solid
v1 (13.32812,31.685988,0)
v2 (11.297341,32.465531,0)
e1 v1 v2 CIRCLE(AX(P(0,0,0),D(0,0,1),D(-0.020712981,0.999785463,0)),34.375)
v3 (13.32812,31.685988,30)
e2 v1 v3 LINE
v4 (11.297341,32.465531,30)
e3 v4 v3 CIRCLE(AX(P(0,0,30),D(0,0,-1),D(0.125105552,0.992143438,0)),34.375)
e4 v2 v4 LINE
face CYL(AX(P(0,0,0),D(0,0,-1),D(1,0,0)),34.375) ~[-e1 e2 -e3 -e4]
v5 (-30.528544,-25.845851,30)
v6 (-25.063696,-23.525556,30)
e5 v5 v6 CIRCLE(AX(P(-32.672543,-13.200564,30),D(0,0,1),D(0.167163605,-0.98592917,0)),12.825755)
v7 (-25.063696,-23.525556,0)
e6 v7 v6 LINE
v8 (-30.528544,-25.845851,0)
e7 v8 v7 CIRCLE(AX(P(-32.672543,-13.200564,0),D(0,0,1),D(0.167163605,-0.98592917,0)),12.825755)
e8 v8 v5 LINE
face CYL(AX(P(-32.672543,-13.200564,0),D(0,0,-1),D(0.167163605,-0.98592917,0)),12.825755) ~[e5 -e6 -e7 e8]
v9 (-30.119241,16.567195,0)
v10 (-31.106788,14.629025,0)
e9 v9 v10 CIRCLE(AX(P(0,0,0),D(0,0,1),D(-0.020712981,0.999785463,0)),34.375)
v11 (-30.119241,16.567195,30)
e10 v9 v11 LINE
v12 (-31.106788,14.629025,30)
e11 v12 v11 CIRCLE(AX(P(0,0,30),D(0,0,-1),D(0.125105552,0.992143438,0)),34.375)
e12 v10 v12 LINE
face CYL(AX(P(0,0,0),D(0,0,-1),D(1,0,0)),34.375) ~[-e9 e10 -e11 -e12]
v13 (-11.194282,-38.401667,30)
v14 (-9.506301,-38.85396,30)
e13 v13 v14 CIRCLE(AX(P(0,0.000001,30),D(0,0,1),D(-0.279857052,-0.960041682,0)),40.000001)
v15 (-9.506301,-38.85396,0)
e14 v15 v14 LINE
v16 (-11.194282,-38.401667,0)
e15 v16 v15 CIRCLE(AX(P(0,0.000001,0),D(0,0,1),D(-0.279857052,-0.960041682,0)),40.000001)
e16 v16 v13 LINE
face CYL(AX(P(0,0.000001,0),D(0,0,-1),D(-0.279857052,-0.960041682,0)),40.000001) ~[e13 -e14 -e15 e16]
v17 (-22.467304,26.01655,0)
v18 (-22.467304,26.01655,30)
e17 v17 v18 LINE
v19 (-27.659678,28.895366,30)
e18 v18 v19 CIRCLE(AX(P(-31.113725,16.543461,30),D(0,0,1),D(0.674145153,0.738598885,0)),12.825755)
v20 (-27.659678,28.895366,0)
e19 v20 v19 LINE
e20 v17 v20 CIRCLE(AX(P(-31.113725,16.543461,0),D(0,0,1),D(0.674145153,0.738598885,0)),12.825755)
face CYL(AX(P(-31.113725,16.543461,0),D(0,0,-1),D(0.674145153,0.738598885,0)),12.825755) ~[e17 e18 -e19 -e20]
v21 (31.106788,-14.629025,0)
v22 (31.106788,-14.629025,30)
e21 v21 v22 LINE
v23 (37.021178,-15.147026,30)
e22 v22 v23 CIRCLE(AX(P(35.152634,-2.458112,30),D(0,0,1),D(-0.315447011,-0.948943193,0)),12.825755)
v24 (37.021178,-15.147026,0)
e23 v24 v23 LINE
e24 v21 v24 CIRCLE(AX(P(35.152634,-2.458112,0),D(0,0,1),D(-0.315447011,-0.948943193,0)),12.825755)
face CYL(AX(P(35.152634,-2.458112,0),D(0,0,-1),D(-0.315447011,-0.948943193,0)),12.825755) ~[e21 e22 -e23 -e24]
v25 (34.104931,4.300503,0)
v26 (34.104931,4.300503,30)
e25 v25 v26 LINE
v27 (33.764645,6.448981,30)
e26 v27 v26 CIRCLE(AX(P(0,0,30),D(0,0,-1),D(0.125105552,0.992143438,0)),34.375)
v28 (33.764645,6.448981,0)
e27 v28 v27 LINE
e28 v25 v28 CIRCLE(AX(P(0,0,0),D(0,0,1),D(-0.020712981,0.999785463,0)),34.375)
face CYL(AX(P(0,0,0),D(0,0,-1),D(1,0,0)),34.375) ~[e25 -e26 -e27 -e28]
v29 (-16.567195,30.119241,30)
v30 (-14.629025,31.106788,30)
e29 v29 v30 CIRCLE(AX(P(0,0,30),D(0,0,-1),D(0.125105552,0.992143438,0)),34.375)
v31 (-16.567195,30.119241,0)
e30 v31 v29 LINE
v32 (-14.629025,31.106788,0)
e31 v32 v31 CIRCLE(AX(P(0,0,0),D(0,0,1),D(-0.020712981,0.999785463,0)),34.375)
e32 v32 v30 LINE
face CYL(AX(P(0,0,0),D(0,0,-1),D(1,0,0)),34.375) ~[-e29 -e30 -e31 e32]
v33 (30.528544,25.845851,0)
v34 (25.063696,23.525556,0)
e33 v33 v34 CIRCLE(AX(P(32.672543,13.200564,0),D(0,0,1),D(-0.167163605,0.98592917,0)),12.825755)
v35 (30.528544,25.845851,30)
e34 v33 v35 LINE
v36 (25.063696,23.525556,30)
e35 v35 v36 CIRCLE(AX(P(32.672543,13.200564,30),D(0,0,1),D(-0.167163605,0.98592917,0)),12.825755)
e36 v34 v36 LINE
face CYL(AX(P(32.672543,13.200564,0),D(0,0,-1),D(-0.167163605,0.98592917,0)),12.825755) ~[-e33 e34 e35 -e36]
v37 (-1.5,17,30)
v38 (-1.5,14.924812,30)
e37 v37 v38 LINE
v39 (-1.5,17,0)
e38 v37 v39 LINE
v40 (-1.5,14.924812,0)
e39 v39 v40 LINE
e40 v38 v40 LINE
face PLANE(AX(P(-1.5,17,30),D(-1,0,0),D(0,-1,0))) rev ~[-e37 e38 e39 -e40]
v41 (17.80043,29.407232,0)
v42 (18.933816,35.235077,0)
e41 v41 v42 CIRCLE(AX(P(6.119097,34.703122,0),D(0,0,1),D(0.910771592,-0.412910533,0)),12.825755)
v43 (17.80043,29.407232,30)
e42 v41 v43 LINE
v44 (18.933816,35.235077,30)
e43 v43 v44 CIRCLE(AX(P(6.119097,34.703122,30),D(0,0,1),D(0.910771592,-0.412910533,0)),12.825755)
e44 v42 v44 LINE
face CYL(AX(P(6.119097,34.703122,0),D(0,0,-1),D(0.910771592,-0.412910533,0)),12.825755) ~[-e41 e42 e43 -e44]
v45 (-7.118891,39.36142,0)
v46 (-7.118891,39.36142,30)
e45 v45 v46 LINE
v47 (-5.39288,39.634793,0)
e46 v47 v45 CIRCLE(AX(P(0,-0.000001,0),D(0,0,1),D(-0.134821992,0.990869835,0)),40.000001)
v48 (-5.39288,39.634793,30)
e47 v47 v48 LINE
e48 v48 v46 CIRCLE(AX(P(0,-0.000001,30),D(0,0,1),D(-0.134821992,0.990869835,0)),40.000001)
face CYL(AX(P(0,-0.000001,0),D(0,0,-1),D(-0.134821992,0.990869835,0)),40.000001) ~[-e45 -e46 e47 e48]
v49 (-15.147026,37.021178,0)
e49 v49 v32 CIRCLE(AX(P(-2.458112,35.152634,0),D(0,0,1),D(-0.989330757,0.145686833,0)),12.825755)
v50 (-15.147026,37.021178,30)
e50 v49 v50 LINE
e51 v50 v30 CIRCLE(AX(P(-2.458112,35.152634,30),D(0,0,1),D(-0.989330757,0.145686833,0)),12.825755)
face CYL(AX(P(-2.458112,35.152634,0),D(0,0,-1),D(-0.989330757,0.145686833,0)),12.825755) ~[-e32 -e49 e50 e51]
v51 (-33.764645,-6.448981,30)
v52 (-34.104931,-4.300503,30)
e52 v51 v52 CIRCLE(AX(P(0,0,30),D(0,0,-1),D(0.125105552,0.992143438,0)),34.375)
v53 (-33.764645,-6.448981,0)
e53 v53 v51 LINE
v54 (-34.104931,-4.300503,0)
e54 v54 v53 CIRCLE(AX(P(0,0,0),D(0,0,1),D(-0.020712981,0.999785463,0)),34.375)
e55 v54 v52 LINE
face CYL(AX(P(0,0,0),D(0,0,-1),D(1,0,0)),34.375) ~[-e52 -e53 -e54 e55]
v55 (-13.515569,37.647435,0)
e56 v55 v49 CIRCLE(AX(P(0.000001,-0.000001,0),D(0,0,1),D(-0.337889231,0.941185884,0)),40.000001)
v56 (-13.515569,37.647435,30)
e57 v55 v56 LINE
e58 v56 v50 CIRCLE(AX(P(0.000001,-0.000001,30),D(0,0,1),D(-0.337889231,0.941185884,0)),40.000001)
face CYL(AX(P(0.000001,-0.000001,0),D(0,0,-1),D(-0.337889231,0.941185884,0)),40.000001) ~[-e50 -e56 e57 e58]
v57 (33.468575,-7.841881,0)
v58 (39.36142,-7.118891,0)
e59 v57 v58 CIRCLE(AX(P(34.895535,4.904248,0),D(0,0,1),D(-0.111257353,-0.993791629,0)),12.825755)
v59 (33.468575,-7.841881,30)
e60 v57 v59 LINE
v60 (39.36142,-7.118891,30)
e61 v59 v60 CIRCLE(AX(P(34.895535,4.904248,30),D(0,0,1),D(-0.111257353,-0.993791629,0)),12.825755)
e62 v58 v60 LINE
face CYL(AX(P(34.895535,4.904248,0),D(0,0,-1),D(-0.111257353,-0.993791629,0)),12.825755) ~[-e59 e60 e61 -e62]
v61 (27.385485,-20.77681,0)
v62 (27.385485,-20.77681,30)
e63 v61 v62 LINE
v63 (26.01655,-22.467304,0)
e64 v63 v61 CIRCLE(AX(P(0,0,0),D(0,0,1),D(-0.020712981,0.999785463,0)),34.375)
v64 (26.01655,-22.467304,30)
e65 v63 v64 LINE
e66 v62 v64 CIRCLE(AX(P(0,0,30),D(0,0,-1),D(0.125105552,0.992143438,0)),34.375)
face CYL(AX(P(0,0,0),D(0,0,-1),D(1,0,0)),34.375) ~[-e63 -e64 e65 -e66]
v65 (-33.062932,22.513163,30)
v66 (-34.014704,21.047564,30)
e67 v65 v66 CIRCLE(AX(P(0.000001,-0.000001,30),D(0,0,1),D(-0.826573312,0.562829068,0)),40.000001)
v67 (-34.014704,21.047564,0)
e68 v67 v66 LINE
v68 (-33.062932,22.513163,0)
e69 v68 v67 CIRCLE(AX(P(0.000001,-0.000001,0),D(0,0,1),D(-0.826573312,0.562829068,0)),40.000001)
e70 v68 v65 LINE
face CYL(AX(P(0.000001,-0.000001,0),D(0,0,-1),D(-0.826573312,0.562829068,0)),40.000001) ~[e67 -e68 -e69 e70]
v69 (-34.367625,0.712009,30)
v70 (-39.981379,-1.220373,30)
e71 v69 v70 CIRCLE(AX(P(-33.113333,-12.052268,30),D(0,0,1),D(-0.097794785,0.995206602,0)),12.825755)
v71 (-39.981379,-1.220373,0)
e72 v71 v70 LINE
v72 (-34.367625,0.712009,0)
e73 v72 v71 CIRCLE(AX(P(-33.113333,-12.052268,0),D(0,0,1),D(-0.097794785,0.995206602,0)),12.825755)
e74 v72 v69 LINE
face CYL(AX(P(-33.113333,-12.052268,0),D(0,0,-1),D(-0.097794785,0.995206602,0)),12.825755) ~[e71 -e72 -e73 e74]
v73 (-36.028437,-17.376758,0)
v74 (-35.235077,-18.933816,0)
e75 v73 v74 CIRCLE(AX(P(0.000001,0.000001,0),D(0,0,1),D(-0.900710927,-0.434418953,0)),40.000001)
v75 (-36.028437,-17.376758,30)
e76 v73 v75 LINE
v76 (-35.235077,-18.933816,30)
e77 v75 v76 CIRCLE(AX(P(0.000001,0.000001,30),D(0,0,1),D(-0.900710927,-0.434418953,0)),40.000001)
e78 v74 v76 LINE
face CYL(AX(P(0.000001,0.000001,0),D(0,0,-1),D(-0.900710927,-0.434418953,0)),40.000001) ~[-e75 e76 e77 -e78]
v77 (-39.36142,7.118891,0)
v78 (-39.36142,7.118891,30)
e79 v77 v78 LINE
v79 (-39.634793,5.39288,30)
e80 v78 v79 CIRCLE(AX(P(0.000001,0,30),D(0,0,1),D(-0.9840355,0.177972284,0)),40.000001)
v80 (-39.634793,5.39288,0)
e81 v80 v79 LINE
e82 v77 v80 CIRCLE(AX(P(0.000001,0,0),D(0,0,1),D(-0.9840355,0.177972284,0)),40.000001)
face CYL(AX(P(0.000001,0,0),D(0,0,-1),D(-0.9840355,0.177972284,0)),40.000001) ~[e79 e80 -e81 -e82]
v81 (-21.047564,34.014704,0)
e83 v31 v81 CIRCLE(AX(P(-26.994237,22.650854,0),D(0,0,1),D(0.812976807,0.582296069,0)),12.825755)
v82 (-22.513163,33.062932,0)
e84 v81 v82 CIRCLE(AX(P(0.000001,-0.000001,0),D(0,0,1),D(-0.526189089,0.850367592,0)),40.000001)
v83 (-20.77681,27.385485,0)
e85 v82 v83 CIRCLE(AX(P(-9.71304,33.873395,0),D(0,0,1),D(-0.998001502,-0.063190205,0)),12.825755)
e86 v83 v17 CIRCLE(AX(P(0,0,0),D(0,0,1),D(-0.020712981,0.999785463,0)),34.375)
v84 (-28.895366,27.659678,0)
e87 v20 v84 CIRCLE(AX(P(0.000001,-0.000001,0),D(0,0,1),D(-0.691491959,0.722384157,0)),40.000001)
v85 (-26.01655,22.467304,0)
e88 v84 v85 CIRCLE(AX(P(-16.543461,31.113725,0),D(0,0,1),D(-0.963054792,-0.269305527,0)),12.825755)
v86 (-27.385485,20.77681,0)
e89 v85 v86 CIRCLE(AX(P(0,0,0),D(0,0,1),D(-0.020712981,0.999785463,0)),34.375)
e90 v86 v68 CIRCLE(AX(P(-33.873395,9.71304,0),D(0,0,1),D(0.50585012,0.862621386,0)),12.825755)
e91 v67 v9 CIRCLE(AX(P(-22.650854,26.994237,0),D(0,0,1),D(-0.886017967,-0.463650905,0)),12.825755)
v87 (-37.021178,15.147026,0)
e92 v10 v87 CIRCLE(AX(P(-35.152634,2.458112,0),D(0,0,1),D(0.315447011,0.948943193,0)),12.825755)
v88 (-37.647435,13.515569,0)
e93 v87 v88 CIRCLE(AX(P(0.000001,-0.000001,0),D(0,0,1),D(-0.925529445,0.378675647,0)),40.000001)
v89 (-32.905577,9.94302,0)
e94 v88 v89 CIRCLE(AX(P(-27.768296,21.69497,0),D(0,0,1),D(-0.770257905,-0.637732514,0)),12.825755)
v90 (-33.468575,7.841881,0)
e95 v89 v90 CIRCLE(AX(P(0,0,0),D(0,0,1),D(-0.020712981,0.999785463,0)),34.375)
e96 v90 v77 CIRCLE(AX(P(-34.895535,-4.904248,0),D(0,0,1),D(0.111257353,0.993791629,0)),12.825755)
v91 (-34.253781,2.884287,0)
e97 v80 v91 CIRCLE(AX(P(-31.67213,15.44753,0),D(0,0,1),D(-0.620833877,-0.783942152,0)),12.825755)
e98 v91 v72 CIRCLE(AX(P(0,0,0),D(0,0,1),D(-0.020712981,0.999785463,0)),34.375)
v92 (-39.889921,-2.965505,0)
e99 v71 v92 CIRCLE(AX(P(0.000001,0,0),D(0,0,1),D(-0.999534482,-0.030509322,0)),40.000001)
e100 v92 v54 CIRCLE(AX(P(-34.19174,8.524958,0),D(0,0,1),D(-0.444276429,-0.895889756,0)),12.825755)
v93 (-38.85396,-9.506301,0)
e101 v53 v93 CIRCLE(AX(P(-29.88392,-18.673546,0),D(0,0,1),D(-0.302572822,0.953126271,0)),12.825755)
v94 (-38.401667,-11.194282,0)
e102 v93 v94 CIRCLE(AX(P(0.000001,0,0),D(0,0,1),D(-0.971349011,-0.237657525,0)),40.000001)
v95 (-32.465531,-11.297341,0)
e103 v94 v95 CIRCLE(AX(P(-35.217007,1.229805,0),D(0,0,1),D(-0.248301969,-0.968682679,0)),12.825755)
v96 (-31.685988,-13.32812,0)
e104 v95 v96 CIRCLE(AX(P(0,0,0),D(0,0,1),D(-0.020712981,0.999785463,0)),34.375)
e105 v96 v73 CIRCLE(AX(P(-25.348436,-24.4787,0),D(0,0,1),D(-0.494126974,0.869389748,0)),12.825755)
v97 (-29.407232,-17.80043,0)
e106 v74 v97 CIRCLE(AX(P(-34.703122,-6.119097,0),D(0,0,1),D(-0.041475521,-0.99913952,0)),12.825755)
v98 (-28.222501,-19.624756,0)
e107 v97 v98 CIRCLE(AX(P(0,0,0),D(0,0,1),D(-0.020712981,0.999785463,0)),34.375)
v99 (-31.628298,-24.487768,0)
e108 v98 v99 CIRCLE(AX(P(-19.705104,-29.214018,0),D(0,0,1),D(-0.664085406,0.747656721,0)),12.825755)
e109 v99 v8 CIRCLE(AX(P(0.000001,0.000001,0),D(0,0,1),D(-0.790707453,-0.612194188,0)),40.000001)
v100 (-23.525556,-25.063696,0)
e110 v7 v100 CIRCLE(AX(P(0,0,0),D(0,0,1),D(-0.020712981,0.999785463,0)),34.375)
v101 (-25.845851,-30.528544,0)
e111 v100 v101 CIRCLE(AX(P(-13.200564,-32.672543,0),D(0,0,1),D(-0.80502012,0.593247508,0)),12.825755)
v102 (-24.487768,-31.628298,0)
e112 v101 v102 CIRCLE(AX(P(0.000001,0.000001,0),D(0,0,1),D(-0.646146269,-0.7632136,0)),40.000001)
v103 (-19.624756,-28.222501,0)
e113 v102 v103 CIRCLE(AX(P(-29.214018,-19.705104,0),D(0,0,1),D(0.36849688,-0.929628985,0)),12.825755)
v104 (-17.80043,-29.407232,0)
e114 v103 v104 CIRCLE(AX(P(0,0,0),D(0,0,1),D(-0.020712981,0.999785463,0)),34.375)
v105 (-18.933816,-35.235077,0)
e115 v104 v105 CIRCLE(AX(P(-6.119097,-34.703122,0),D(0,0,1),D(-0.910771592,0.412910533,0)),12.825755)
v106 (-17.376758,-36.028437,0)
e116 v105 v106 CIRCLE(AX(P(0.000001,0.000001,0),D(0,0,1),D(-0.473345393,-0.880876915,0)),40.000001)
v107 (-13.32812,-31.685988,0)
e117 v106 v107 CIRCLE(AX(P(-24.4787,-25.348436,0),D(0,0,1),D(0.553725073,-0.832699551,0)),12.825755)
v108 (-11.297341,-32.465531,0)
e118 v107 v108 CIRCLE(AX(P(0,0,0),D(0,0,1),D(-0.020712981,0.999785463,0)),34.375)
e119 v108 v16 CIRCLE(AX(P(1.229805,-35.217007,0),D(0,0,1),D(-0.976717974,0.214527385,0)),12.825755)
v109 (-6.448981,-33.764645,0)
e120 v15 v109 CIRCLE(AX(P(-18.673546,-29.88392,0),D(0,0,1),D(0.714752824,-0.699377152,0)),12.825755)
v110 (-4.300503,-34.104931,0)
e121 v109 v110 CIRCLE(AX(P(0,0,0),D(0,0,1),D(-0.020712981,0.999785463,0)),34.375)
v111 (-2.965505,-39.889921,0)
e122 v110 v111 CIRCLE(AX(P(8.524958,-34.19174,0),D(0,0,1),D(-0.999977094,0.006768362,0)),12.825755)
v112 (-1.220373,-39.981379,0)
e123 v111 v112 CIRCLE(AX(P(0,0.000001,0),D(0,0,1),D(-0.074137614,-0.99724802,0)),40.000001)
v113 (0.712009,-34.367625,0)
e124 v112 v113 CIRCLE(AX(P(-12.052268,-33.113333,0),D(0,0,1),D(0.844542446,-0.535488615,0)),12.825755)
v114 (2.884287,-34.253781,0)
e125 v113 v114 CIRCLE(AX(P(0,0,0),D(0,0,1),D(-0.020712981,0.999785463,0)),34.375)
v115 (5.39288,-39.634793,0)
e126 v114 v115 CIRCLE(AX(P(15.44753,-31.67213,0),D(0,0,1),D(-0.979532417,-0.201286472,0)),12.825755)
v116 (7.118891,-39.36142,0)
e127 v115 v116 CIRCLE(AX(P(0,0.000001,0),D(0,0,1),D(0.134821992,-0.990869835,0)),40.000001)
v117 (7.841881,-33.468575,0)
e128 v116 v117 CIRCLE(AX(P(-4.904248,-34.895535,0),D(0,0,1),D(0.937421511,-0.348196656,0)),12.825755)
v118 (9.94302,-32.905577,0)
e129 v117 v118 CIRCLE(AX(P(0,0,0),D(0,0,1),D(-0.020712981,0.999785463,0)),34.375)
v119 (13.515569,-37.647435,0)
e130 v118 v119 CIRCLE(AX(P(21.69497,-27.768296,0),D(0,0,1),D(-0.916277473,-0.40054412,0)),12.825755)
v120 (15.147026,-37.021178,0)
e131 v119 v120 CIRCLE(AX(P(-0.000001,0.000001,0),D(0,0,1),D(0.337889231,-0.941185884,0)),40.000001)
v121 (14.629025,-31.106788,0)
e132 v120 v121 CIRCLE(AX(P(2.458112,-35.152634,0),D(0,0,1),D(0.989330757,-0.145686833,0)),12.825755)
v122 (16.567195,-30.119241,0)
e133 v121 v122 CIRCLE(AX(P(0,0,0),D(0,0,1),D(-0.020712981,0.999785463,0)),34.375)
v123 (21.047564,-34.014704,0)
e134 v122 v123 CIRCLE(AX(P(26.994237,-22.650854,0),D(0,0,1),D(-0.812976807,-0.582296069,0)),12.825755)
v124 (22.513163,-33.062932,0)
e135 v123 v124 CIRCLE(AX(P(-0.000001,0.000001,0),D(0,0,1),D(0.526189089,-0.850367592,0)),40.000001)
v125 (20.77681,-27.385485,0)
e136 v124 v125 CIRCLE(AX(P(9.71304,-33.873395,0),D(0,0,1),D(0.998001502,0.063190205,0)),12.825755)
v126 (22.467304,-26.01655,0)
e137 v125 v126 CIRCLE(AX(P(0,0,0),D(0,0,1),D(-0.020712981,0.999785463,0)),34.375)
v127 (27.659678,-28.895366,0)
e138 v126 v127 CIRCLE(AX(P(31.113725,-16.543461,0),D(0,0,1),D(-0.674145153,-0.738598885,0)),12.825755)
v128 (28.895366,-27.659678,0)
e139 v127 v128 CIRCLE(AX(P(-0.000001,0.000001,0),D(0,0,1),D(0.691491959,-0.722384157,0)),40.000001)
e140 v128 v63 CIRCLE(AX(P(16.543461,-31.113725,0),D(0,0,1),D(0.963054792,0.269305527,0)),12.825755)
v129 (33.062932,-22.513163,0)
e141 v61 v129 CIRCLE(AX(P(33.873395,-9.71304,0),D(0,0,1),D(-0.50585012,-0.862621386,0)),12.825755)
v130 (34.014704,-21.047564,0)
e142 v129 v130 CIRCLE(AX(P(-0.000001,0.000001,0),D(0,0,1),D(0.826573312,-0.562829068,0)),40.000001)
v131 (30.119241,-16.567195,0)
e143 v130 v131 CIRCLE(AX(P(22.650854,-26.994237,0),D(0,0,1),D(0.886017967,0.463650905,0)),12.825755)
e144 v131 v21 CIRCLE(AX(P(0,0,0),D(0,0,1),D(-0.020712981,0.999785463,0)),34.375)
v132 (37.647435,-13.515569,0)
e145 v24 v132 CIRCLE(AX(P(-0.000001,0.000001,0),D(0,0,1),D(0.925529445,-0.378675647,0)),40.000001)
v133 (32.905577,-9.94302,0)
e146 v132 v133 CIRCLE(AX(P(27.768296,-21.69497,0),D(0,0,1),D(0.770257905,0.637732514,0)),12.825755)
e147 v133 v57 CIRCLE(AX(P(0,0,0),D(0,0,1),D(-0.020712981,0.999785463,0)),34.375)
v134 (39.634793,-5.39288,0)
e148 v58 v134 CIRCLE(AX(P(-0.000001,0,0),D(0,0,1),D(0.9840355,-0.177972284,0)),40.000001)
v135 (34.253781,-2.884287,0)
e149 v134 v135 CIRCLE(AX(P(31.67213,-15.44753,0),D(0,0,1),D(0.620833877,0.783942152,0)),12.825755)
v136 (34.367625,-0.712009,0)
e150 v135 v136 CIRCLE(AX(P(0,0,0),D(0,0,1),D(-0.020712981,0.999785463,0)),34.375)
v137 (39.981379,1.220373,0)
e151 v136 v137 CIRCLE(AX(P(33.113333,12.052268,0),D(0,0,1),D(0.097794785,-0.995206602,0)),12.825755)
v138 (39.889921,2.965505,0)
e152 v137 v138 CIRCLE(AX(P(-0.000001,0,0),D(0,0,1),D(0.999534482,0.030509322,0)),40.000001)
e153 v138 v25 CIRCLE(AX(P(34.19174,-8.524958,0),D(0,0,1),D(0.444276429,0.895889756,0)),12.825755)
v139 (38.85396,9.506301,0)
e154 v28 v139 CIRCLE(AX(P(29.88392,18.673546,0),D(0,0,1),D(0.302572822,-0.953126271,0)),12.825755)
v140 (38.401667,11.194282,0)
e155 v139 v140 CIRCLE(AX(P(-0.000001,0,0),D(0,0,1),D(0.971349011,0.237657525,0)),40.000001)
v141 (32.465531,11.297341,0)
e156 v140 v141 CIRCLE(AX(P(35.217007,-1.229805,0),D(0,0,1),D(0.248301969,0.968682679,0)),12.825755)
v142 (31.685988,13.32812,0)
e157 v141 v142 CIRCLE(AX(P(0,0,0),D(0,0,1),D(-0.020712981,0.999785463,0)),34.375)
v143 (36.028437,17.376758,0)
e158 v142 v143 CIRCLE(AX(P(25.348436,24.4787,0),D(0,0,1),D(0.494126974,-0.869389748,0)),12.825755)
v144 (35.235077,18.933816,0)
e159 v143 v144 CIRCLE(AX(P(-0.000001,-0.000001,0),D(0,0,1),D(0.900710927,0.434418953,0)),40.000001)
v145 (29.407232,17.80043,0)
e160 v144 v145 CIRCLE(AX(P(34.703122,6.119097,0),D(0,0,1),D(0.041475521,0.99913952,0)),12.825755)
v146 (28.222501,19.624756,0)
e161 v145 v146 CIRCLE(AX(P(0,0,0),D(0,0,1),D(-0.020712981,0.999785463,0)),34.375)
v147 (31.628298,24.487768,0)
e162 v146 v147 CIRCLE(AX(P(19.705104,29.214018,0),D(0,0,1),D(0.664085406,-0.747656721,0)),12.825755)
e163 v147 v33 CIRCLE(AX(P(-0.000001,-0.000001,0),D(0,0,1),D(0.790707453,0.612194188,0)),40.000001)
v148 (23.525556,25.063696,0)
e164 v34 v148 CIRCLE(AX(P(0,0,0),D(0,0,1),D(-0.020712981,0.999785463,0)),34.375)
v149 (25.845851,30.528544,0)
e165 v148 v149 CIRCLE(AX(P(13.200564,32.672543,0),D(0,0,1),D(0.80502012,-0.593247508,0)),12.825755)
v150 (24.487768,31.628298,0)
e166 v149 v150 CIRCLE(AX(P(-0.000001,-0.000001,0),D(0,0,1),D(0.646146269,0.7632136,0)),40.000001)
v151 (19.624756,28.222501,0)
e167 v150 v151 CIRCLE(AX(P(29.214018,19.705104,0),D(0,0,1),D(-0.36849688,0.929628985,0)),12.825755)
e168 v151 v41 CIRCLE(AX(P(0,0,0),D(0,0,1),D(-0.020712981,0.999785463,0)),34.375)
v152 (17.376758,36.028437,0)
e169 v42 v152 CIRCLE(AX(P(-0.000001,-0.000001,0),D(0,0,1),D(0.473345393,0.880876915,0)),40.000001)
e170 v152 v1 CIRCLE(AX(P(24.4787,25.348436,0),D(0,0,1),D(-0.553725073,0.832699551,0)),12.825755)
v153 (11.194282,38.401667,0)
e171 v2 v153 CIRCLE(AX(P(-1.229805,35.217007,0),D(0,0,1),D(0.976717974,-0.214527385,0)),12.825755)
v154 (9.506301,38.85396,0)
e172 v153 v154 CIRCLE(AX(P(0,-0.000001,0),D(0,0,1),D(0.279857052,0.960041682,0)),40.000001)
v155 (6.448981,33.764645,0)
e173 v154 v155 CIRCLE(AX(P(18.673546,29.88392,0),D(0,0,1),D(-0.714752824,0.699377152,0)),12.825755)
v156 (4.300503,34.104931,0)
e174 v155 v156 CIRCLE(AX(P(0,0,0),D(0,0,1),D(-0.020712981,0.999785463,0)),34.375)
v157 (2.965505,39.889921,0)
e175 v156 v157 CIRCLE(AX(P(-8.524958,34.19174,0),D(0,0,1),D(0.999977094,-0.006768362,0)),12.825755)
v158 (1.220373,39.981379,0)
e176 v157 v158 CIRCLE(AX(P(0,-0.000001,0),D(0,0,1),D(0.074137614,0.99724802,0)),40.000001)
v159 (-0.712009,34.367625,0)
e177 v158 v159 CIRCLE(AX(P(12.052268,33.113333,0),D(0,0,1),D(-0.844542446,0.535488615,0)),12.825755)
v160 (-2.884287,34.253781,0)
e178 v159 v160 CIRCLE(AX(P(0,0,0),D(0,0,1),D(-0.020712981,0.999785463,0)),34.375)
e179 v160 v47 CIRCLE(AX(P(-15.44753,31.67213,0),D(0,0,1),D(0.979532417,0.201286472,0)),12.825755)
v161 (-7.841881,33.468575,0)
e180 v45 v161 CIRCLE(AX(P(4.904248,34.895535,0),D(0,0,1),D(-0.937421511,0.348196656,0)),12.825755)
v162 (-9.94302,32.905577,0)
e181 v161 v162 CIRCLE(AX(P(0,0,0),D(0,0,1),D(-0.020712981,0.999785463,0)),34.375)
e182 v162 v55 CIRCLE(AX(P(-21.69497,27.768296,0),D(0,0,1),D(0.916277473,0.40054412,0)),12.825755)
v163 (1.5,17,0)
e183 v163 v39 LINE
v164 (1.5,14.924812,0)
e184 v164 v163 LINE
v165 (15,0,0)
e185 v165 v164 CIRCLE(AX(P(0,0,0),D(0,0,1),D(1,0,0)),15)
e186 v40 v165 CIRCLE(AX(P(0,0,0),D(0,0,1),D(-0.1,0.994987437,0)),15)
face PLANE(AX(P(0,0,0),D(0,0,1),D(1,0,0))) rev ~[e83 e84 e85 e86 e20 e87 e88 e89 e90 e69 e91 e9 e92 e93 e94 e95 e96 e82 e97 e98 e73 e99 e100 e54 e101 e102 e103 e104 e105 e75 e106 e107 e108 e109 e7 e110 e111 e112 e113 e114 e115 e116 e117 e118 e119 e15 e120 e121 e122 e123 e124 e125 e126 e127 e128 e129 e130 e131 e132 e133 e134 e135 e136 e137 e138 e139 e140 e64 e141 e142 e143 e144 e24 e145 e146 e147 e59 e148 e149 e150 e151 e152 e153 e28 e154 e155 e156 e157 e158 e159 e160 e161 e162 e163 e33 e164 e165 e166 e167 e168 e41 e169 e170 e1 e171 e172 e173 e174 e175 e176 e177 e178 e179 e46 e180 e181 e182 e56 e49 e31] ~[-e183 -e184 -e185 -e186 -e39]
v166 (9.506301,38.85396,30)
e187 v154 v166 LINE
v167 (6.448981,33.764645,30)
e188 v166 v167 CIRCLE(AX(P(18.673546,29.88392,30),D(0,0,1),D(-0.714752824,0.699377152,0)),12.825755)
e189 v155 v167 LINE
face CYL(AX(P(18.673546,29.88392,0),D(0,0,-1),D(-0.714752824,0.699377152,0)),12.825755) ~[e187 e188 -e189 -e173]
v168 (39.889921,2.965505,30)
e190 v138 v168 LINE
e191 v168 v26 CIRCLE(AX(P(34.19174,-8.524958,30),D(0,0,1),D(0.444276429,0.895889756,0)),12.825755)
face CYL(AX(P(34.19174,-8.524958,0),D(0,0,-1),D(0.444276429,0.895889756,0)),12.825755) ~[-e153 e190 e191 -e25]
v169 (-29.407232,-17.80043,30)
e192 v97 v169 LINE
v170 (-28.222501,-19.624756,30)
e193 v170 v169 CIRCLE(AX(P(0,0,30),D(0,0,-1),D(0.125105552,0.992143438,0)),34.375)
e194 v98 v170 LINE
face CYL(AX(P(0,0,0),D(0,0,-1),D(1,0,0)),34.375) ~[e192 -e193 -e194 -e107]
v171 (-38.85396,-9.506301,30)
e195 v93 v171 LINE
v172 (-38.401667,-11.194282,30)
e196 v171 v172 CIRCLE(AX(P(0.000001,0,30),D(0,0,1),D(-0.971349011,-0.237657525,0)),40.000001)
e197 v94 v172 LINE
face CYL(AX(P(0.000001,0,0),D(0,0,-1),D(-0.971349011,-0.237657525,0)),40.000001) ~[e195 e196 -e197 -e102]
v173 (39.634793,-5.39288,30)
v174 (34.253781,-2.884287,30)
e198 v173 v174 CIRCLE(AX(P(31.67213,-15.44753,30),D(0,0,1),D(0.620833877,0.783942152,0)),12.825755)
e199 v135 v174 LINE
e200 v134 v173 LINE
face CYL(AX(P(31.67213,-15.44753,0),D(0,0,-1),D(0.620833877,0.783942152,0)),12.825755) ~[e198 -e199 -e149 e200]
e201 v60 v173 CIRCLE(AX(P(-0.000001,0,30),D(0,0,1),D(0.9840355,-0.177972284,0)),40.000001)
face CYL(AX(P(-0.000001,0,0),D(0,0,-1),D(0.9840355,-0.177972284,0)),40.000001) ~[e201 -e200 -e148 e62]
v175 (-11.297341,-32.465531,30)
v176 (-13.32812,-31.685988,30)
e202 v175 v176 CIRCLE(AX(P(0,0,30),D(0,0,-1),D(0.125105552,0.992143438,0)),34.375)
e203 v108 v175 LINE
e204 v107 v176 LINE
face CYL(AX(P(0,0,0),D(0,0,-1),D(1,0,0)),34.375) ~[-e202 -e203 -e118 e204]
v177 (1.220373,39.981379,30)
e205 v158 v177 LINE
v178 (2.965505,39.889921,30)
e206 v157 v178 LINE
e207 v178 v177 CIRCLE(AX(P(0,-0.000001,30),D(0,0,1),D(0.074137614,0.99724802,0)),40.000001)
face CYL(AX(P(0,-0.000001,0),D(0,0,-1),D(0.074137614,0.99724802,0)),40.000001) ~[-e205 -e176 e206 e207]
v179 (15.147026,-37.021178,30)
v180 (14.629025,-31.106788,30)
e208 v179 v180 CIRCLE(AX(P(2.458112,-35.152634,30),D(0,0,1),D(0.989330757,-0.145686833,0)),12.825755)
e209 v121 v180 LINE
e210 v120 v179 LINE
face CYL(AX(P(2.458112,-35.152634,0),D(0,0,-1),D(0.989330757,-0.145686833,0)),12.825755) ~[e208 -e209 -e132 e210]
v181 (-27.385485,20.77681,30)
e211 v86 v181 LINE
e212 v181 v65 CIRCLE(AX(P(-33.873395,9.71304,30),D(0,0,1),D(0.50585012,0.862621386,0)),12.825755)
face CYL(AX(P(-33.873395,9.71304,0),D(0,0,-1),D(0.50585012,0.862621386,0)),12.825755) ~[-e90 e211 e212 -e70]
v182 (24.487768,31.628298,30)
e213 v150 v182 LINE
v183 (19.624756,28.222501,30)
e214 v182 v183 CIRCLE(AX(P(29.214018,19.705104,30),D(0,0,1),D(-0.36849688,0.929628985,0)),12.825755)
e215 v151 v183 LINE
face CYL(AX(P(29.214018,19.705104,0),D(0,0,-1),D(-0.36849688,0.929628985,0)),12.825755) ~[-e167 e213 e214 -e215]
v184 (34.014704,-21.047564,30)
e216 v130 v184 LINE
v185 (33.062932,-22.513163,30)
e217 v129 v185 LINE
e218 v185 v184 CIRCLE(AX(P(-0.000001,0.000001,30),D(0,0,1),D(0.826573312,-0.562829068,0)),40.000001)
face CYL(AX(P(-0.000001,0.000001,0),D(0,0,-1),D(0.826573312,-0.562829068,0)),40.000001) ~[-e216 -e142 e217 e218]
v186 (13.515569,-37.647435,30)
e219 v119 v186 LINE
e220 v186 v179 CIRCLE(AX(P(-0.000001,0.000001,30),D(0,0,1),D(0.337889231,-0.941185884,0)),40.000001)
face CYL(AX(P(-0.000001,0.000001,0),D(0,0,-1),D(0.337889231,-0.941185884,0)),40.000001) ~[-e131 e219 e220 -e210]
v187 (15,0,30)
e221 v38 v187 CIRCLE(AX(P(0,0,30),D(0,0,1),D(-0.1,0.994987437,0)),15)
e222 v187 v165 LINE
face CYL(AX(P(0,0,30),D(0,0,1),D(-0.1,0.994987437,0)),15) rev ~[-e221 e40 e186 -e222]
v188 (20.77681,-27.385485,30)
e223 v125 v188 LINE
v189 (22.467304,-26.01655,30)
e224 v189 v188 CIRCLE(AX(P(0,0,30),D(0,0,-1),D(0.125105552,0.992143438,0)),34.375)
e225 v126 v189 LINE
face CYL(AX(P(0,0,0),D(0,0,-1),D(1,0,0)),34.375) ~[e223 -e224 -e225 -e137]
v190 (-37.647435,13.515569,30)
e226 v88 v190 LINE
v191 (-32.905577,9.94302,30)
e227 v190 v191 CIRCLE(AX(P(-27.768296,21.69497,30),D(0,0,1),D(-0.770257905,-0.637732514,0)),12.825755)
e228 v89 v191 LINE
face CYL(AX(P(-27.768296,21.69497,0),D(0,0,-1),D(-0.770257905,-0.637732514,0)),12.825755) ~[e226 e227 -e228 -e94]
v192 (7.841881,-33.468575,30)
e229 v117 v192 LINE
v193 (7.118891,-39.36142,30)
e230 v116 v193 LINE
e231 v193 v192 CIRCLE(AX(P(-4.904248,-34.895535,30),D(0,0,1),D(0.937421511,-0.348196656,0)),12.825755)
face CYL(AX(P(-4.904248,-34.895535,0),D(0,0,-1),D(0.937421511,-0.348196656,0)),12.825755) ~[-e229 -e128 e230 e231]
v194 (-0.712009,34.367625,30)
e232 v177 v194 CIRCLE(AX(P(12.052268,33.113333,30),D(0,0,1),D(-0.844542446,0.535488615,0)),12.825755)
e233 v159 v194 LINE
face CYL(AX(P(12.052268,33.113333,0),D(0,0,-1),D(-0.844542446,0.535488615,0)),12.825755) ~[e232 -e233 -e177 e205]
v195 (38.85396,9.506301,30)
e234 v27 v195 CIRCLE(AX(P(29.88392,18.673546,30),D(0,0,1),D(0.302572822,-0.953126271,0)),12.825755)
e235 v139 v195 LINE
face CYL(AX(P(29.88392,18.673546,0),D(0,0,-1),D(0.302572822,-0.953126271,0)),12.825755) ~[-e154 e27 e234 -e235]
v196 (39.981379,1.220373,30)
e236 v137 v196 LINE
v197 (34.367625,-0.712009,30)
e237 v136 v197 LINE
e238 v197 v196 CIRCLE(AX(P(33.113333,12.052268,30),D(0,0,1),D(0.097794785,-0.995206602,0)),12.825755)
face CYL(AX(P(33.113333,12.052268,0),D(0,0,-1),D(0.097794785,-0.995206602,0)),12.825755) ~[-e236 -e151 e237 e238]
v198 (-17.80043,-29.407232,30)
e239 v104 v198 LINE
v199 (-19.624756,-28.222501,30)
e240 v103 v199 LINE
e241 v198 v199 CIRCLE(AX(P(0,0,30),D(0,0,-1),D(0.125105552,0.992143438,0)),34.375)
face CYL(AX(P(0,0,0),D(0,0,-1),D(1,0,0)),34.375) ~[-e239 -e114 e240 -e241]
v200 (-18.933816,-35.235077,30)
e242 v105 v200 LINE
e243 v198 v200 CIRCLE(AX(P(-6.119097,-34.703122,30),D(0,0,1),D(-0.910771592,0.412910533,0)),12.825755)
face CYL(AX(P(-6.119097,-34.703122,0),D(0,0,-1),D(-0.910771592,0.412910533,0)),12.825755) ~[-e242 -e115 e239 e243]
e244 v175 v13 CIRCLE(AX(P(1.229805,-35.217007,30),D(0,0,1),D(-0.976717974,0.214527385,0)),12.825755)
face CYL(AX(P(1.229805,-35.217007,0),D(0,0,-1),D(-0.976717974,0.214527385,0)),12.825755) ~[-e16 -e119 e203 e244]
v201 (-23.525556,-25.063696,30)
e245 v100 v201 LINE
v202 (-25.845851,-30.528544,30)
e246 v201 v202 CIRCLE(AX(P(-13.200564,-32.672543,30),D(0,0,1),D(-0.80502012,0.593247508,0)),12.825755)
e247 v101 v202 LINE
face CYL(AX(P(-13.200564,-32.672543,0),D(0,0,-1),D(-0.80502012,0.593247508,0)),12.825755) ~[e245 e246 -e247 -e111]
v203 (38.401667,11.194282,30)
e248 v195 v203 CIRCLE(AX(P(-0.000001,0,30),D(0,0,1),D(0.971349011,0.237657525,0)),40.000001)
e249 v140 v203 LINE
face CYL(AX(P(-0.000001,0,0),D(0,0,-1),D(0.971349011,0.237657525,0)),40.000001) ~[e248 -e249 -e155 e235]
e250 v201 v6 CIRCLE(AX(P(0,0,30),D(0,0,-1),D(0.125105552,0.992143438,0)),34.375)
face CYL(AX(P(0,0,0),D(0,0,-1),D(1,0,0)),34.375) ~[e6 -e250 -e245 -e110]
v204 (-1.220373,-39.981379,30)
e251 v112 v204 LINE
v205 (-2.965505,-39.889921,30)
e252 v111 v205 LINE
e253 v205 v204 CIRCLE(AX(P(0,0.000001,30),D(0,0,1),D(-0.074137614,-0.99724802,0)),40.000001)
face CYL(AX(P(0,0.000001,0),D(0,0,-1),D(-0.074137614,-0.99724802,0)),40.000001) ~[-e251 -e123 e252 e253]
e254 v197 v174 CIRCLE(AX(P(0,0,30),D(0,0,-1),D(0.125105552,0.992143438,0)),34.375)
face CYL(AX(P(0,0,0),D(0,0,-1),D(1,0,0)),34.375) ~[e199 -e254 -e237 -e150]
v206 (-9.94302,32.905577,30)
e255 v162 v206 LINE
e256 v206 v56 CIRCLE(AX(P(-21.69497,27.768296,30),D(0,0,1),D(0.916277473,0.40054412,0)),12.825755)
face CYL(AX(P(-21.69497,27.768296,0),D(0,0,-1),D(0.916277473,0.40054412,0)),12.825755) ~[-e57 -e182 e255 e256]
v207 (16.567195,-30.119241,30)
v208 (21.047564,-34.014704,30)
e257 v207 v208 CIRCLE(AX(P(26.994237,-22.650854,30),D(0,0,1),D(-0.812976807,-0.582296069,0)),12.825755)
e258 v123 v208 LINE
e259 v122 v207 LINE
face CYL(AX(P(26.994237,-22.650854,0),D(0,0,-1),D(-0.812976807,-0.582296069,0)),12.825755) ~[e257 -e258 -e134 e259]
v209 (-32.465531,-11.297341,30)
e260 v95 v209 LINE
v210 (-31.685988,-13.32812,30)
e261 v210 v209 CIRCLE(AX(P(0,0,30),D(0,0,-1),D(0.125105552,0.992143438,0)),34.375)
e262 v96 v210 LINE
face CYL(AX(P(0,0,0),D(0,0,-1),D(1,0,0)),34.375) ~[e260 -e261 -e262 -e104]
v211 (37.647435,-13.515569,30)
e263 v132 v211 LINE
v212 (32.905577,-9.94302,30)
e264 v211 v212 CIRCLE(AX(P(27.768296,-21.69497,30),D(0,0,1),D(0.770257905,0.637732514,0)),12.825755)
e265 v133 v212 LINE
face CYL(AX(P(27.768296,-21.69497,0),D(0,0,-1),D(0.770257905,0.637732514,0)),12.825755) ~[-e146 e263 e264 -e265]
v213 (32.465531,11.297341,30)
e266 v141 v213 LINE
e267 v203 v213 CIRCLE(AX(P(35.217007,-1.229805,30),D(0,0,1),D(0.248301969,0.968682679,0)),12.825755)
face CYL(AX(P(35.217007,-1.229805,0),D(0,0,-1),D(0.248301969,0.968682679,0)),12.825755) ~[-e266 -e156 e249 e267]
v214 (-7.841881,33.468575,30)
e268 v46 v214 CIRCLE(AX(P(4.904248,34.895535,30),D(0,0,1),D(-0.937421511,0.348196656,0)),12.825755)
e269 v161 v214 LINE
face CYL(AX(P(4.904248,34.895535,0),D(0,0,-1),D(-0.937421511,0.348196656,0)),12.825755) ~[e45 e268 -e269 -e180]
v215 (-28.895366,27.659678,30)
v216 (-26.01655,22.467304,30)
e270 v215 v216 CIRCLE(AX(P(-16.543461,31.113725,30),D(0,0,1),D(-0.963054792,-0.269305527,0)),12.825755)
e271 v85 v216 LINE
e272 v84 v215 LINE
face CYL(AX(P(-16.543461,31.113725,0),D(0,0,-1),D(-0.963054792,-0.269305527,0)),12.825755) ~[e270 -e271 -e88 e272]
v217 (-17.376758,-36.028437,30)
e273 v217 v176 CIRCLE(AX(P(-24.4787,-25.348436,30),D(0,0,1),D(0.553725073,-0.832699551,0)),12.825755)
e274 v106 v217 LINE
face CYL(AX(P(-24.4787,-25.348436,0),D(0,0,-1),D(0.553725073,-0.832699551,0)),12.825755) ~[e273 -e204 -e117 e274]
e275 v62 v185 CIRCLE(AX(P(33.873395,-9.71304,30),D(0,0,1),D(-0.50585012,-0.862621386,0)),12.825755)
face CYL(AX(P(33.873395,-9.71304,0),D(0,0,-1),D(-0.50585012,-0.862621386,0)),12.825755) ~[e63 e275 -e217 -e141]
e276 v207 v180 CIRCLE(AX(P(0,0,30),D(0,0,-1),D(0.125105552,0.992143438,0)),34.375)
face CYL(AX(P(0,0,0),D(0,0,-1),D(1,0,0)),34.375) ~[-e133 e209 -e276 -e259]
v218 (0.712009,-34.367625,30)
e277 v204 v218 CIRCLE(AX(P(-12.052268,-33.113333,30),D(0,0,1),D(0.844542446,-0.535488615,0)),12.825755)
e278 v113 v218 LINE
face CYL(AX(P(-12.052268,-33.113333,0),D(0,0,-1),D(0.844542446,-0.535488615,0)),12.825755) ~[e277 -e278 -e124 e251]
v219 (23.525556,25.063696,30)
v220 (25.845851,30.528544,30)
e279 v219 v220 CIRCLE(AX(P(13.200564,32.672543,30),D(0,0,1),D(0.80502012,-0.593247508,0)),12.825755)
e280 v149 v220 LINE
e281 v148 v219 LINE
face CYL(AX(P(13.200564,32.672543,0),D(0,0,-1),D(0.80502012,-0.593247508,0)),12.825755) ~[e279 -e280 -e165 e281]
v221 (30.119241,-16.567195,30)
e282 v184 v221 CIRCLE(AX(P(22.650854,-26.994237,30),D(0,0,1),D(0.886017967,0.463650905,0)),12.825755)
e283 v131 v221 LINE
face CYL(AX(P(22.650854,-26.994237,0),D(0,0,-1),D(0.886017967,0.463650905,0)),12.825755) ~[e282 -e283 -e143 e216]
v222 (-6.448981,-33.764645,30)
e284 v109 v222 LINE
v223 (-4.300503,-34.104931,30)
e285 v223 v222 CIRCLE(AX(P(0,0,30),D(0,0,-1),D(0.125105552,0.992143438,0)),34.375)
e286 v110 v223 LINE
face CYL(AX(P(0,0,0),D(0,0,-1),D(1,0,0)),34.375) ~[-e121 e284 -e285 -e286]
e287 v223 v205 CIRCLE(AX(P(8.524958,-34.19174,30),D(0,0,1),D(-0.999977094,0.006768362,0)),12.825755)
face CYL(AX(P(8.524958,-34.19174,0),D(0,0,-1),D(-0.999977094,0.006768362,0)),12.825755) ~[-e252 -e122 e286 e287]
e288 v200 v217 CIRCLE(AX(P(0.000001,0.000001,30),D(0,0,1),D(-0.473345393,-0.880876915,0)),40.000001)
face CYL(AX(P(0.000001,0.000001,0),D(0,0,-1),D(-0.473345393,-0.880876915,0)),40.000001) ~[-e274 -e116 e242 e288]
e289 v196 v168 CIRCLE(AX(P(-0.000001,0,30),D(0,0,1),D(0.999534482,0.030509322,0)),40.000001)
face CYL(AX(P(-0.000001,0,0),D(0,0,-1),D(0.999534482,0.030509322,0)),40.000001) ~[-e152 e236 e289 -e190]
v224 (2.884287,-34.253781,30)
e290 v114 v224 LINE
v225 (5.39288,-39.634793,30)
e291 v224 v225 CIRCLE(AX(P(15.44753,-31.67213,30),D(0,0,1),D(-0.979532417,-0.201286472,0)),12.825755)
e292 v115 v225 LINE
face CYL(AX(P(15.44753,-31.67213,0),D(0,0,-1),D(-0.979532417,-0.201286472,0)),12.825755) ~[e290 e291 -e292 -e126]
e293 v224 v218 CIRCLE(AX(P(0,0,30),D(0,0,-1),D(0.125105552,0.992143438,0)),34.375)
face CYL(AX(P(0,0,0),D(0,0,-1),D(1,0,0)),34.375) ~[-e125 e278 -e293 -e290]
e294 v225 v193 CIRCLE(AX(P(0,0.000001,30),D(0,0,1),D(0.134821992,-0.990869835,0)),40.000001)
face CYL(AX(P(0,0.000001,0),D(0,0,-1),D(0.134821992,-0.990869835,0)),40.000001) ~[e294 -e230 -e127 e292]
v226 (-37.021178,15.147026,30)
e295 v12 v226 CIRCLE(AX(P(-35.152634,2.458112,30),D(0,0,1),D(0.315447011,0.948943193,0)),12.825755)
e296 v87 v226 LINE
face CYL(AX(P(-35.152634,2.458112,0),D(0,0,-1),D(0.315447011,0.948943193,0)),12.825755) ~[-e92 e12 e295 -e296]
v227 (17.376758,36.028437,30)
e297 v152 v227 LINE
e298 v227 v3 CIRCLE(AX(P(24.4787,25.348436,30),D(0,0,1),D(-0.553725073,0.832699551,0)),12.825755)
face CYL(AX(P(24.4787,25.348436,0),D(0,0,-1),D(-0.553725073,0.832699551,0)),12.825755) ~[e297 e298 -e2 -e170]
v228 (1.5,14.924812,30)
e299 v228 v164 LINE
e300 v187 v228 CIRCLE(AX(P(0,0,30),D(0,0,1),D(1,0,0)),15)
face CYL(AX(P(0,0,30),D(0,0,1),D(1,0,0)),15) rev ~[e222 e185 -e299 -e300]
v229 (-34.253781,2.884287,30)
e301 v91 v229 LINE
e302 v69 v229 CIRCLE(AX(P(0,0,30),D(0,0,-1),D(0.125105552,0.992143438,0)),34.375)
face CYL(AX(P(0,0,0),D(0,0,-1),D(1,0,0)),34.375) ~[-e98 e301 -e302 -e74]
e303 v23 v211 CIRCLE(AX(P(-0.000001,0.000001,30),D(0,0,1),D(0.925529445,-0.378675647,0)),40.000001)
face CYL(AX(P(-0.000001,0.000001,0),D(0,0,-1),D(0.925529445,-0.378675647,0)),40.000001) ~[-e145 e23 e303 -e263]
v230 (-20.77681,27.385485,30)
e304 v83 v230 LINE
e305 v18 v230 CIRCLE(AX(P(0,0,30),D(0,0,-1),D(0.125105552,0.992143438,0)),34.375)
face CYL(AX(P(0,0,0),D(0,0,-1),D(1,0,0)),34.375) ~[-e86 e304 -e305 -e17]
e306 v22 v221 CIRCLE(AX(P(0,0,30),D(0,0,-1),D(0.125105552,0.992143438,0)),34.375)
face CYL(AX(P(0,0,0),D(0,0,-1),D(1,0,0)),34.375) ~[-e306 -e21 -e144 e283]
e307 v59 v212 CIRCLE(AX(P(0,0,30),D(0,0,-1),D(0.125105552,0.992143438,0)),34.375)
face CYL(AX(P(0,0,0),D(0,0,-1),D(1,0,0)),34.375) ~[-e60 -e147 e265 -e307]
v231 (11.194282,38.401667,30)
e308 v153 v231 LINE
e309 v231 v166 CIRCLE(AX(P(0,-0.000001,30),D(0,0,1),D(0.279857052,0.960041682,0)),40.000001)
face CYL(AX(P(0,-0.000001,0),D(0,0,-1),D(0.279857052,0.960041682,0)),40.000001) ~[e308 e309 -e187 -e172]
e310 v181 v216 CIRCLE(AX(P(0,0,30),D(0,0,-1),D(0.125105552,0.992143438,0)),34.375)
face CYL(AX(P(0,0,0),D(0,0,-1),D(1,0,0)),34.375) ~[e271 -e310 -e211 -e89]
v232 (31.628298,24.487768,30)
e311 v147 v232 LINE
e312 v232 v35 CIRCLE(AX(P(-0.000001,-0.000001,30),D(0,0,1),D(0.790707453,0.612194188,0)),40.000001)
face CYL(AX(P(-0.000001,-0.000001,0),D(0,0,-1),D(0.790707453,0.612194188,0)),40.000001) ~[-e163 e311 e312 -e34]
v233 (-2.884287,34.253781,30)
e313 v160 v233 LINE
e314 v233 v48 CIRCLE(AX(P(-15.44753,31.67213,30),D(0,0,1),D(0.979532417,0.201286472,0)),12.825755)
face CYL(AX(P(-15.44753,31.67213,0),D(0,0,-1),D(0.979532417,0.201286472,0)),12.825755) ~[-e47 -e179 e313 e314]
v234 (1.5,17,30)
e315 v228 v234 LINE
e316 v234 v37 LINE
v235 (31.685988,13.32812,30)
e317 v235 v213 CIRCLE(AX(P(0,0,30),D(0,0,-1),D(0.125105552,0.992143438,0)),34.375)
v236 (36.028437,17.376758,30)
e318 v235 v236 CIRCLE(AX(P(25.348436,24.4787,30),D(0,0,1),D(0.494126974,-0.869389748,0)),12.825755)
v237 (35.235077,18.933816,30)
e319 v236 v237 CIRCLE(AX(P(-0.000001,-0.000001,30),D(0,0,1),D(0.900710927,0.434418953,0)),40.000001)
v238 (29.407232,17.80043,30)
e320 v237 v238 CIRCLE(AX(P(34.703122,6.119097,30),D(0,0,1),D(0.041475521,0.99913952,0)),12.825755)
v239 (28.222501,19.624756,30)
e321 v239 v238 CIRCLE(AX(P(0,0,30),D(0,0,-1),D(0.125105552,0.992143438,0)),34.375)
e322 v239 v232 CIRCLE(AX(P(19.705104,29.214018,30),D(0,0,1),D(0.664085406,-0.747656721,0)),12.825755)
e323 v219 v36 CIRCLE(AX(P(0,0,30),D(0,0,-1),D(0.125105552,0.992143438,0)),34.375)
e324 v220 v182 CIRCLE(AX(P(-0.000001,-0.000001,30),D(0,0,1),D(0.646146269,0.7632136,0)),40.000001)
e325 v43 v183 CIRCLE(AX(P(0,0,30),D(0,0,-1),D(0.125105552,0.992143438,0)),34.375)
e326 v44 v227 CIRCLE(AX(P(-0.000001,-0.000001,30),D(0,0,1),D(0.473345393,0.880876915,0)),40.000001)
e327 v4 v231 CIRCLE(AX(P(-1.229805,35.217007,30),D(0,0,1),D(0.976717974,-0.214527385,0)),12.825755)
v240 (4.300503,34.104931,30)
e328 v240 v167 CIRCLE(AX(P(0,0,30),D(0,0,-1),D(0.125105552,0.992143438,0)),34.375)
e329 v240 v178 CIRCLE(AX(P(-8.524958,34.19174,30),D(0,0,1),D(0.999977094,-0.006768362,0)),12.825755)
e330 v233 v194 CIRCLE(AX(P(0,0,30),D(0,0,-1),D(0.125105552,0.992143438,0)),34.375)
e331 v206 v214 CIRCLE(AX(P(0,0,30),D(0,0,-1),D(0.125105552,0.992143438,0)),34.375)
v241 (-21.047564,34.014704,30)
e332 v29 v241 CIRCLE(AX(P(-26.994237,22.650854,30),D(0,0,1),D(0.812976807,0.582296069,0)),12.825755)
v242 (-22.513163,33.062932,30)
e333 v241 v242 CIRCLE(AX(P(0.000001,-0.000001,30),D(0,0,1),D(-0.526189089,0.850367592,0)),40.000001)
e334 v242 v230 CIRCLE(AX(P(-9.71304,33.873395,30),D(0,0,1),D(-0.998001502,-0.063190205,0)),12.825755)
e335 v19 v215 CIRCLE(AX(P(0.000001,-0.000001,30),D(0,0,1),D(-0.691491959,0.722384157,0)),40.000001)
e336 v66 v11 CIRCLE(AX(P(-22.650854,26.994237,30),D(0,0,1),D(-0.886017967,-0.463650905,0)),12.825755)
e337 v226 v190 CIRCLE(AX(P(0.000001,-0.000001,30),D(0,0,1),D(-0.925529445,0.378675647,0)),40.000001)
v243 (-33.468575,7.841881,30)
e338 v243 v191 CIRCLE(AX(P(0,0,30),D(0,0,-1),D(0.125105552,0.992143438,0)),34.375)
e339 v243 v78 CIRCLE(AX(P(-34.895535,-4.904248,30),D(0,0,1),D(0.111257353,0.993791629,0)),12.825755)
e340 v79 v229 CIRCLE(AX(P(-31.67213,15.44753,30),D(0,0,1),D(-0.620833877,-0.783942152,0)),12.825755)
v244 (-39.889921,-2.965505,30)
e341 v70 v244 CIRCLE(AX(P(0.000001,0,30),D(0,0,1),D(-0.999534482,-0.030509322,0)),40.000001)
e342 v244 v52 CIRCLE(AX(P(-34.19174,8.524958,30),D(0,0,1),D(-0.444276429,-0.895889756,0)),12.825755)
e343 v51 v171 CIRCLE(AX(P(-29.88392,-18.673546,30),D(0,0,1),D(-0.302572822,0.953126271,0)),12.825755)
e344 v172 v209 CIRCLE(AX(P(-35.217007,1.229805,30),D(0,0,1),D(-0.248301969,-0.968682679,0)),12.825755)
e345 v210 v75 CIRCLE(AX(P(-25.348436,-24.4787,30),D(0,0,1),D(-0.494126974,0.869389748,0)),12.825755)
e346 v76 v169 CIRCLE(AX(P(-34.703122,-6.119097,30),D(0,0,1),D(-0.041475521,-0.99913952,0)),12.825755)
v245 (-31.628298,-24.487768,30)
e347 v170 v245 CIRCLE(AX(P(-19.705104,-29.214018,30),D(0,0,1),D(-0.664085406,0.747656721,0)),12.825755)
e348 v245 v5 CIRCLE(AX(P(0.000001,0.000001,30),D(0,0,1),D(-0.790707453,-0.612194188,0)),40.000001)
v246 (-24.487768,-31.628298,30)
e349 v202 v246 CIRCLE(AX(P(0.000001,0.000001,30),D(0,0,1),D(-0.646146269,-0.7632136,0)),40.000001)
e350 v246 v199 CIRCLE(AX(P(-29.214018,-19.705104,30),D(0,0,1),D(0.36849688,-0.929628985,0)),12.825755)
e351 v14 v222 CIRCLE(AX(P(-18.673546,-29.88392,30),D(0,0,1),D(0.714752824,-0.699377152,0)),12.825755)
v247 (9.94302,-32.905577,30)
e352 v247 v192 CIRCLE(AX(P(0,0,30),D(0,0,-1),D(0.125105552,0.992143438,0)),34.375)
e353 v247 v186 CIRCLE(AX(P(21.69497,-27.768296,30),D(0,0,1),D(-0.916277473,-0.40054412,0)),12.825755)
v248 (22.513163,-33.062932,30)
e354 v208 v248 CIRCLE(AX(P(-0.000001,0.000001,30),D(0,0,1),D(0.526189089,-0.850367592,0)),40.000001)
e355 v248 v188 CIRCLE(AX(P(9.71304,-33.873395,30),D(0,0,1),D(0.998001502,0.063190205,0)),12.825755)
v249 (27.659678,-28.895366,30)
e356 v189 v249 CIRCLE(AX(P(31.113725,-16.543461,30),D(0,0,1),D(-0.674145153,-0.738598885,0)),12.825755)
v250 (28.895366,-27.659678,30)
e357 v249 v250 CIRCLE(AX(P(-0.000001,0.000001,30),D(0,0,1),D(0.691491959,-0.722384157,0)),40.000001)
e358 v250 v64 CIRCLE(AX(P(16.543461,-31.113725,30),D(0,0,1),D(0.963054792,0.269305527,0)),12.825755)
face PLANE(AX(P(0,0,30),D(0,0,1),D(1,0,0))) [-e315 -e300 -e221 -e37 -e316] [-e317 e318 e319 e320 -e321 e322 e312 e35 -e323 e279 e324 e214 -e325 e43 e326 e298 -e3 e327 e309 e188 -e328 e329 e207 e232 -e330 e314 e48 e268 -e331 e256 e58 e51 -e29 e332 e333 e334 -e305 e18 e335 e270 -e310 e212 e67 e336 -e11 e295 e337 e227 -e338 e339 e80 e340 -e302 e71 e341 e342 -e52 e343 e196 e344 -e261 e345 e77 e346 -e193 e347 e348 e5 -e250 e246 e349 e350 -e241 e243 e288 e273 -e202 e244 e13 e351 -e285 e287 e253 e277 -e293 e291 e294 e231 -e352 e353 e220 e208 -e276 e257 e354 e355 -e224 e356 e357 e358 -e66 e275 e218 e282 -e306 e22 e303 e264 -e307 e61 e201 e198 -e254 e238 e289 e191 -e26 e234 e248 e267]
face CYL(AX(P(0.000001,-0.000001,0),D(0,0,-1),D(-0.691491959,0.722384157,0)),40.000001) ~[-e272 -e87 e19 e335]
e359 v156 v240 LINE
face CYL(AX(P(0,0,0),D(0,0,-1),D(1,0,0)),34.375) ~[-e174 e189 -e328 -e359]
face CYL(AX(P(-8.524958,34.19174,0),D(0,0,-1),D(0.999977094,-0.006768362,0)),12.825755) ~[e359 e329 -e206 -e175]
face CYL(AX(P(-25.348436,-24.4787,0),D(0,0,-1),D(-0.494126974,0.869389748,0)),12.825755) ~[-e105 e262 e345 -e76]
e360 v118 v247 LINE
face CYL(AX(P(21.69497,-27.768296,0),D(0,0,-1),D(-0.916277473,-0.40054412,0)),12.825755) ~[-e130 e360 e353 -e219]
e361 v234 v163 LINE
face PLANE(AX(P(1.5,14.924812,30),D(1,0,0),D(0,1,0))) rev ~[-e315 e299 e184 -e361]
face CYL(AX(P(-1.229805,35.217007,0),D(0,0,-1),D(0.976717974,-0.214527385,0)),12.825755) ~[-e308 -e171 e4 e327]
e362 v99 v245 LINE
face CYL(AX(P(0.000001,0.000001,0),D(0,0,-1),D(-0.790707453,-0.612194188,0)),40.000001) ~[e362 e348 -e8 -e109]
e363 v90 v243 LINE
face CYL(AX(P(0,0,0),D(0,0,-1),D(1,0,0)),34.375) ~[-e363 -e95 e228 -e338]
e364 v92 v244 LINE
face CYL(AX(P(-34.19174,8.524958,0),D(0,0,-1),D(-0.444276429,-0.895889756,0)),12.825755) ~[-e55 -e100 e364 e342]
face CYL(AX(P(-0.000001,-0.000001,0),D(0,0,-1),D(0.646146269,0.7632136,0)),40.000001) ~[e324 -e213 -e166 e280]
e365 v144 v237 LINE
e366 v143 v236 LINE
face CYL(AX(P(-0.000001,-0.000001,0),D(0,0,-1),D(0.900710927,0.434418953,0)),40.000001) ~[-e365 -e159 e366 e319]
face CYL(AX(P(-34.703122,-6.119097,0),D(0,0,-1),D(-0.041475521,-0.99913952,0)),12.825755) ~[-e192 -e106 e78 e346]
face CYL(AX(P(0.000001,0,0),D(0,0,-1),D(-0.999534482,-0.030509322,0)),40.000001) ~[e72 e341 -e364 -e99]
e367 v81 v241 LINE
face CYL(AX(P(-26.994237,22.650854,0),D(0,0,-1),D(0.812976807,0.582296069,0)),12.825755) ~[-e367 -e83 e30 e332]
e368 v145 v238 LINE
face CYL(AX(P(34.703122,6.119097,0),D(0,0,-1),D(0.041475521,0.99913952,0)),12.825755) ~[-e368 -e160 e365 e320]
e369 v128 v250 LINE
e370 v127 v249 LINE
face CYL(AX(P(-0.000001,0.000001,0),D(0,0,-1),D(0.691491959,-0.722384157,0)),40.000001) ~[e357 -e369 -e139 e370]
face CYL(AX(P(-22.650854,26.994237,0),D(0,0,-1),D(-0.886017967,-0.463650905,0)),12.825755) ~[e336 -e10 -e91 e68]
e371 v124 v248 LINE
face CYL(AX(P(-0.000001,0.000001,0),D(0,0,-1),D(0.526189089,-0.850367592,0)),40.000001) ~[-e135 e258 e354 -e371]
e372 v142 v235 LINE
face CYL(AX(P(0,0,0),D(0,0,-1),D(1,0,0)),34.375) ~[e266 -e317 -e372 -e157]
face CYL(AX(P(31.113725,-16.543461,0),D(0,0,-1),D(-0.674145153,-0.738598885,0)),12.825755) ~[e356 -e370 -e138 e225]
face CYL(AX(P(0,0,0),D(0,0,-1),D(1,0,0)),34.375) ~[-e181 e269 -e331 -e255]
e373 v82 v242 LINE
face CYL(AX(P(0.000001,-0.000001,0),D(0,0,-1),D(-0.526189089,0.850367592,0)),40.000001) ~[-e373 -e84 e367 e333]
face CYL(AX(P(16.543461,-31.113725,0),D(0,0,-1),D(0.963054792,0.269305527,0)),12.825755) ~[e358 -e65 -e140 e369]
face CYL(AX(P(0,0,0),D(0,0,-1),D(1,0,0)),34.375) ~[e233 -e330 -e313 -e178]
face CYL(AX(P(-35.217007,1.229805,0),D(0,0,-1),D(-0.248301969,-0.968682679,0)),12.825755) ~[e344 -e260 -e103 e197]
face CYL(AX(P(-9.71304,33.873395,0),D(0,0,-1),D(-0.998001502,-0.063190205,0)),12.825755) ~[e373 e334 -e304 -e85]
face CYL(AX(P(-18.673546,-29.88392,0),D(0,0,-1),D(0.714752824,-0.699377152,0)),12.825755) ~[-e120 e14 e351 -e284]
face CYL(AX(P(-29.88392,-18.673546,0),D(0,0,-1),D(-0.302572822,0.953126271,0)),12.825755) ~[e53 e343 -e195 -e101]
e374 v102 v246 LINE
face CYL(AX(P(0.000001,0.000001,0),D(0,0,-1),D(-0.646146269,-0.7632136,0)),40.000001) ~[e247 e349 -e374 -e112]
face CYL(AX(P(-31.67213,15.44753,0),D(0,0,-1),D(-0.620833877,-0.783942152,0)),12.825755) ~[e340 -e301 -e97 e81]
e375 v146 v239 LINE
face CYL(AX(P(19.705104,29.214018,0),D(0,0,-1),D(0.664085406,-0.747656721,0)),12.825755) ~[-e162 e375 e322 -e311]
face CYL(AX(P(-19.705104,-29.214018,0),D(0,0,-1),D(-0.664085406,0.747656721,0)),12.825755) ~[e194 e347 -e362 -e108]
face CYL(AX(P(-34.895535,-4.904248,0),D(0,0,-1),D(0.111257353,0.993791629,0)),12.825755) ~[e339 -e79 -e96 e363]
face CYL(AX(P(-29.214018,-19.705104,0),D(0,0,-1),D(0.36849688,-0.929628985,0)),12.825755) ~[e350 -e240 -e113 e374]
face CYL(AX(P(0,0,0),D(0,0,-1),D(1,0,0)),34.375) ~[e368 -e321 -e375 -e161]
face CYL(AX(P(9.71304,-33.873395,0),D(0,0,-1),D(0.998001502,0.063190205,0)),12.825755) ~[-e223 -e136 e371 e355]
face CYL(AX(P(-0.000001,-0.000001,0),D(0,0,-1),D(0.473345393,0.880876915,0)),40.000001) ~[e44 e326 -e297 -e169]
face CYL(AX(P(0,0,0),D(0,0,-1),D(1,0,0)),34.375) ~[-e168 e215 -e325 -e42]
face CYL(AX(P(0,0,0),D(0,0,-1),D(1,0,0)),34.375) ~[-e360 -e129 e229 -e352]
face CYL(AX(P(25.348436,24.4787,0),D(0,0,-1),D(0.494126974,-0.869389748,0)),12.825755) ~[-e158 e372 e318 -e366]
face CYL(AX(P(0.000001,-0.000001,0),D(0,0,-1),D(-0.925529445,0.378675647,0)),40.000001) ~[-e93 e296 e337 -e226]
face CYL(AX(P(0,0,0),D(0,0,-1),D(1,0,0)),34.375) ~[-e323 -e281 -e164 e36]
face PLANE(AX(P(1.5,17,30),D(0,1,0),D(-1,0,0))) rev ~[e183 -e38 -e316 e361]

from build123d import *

# Parameters (mm, degrees)
SKETCH_1_R               = 34.375
EXTRUDE_1_DEPTH          = 30
EXTRUDE_START            = -30
EXTRUDE_2_DEPTH          = 30
PATTERN_CIRCULAR_1_COUNT = 30
CUT_EXTRUDE_1_DEPTH      = 30


with BuildPart() as part:
    # 草图1 → 凸台-拉伸1 (new body)
    with BuildSketch(Plane.XY):
        Circle(SKETCH_1_R)
    extrude(amount=EXTRUDE_1_DEPTH)

    # 草图2 → 凸台-拉伸2 (add)
    with BuildSketch(Plane.XY.offset(30).offset(EXTRUDE_START)):
        with BuildLine():
            ThreePointArc((2.965504601, 39.889920813), (2.09343825, 39.94518139), (1.220372866, 39.981379292))
            ThreePointArc((1.220372866, 39.981379292), (-0.075113847, 37.287853424), (-0.712008739, 34.367625297))
            ThreePointArc((-0.712008739, 34.367625297), (1.799048496, 34.327890257), (4.300503339, 34.10493067))
            ThreePointArc((4.300503339, 34.10493067), (3.972344382, 37.075735127), (2.965504601, 39.889920813))
        make_face()
    extrude_2 = extrude(amount=EXTRUDE_2_DEPTH)

    # 阵列(圆周)1: 凸台-拉伸2 ×30 about axis
    pattern_circular_1_axis = Axis((0, 0, 0), (0, 0, 1))
    for i in range(1, PATTERN_CIRCULAR_1_COUNT):
        add(extrude_2.rotate(pattern_circular_1_axis, i * 360 / PATTERN_CIRCULAR_1_COUNT))

    # 草图3 → 切除-拉伸1 (cut)
    with BuildSketch(Plane.XY.offset(30)):
        with BuildLine():
            Line((-1.5, 14.924811557), (-1.5, 0))
            Line((-1.5, 0), (1.5, 0))
            Line((1.5, 0), (1.5, 14.924811557))
            ThreePointArc((1.5, 14.924811557), (0, 15), (-1.5, 14.924811557))
        make_face()
        with BuildLine():
            Line((1.5, 0), (-1.5, 0))
            Line((-1.5, 0), (-1.5, 14.924811557))
            ThreePointArc((-1.5, 14.924811557), (-10.062305899, -11.124297731), (15, 0))
            ThreePointArc((15, 0), (11.124297731, 10.062305899), (1.5, 14.924811557))
            Line((1.5, 14.924811557), (1.5, 0))
        make_face()
        with BuildLine():
            Line((-1.5, 17), (-1.5, 14.924811557))
            ThreePointArc((-1.5, 14.924811557), (0, 15), (1.5, 14.924811557))
            Line((1.5, 14.924811557), (1.5, 17))
            Line((1.5, 17), (-1.5, 17))
        make_face()
    extrude(amount=-CUT_EXTRUDE_1_DEPTH, mode=Mode.SUBTRACT)


solid = part.part
